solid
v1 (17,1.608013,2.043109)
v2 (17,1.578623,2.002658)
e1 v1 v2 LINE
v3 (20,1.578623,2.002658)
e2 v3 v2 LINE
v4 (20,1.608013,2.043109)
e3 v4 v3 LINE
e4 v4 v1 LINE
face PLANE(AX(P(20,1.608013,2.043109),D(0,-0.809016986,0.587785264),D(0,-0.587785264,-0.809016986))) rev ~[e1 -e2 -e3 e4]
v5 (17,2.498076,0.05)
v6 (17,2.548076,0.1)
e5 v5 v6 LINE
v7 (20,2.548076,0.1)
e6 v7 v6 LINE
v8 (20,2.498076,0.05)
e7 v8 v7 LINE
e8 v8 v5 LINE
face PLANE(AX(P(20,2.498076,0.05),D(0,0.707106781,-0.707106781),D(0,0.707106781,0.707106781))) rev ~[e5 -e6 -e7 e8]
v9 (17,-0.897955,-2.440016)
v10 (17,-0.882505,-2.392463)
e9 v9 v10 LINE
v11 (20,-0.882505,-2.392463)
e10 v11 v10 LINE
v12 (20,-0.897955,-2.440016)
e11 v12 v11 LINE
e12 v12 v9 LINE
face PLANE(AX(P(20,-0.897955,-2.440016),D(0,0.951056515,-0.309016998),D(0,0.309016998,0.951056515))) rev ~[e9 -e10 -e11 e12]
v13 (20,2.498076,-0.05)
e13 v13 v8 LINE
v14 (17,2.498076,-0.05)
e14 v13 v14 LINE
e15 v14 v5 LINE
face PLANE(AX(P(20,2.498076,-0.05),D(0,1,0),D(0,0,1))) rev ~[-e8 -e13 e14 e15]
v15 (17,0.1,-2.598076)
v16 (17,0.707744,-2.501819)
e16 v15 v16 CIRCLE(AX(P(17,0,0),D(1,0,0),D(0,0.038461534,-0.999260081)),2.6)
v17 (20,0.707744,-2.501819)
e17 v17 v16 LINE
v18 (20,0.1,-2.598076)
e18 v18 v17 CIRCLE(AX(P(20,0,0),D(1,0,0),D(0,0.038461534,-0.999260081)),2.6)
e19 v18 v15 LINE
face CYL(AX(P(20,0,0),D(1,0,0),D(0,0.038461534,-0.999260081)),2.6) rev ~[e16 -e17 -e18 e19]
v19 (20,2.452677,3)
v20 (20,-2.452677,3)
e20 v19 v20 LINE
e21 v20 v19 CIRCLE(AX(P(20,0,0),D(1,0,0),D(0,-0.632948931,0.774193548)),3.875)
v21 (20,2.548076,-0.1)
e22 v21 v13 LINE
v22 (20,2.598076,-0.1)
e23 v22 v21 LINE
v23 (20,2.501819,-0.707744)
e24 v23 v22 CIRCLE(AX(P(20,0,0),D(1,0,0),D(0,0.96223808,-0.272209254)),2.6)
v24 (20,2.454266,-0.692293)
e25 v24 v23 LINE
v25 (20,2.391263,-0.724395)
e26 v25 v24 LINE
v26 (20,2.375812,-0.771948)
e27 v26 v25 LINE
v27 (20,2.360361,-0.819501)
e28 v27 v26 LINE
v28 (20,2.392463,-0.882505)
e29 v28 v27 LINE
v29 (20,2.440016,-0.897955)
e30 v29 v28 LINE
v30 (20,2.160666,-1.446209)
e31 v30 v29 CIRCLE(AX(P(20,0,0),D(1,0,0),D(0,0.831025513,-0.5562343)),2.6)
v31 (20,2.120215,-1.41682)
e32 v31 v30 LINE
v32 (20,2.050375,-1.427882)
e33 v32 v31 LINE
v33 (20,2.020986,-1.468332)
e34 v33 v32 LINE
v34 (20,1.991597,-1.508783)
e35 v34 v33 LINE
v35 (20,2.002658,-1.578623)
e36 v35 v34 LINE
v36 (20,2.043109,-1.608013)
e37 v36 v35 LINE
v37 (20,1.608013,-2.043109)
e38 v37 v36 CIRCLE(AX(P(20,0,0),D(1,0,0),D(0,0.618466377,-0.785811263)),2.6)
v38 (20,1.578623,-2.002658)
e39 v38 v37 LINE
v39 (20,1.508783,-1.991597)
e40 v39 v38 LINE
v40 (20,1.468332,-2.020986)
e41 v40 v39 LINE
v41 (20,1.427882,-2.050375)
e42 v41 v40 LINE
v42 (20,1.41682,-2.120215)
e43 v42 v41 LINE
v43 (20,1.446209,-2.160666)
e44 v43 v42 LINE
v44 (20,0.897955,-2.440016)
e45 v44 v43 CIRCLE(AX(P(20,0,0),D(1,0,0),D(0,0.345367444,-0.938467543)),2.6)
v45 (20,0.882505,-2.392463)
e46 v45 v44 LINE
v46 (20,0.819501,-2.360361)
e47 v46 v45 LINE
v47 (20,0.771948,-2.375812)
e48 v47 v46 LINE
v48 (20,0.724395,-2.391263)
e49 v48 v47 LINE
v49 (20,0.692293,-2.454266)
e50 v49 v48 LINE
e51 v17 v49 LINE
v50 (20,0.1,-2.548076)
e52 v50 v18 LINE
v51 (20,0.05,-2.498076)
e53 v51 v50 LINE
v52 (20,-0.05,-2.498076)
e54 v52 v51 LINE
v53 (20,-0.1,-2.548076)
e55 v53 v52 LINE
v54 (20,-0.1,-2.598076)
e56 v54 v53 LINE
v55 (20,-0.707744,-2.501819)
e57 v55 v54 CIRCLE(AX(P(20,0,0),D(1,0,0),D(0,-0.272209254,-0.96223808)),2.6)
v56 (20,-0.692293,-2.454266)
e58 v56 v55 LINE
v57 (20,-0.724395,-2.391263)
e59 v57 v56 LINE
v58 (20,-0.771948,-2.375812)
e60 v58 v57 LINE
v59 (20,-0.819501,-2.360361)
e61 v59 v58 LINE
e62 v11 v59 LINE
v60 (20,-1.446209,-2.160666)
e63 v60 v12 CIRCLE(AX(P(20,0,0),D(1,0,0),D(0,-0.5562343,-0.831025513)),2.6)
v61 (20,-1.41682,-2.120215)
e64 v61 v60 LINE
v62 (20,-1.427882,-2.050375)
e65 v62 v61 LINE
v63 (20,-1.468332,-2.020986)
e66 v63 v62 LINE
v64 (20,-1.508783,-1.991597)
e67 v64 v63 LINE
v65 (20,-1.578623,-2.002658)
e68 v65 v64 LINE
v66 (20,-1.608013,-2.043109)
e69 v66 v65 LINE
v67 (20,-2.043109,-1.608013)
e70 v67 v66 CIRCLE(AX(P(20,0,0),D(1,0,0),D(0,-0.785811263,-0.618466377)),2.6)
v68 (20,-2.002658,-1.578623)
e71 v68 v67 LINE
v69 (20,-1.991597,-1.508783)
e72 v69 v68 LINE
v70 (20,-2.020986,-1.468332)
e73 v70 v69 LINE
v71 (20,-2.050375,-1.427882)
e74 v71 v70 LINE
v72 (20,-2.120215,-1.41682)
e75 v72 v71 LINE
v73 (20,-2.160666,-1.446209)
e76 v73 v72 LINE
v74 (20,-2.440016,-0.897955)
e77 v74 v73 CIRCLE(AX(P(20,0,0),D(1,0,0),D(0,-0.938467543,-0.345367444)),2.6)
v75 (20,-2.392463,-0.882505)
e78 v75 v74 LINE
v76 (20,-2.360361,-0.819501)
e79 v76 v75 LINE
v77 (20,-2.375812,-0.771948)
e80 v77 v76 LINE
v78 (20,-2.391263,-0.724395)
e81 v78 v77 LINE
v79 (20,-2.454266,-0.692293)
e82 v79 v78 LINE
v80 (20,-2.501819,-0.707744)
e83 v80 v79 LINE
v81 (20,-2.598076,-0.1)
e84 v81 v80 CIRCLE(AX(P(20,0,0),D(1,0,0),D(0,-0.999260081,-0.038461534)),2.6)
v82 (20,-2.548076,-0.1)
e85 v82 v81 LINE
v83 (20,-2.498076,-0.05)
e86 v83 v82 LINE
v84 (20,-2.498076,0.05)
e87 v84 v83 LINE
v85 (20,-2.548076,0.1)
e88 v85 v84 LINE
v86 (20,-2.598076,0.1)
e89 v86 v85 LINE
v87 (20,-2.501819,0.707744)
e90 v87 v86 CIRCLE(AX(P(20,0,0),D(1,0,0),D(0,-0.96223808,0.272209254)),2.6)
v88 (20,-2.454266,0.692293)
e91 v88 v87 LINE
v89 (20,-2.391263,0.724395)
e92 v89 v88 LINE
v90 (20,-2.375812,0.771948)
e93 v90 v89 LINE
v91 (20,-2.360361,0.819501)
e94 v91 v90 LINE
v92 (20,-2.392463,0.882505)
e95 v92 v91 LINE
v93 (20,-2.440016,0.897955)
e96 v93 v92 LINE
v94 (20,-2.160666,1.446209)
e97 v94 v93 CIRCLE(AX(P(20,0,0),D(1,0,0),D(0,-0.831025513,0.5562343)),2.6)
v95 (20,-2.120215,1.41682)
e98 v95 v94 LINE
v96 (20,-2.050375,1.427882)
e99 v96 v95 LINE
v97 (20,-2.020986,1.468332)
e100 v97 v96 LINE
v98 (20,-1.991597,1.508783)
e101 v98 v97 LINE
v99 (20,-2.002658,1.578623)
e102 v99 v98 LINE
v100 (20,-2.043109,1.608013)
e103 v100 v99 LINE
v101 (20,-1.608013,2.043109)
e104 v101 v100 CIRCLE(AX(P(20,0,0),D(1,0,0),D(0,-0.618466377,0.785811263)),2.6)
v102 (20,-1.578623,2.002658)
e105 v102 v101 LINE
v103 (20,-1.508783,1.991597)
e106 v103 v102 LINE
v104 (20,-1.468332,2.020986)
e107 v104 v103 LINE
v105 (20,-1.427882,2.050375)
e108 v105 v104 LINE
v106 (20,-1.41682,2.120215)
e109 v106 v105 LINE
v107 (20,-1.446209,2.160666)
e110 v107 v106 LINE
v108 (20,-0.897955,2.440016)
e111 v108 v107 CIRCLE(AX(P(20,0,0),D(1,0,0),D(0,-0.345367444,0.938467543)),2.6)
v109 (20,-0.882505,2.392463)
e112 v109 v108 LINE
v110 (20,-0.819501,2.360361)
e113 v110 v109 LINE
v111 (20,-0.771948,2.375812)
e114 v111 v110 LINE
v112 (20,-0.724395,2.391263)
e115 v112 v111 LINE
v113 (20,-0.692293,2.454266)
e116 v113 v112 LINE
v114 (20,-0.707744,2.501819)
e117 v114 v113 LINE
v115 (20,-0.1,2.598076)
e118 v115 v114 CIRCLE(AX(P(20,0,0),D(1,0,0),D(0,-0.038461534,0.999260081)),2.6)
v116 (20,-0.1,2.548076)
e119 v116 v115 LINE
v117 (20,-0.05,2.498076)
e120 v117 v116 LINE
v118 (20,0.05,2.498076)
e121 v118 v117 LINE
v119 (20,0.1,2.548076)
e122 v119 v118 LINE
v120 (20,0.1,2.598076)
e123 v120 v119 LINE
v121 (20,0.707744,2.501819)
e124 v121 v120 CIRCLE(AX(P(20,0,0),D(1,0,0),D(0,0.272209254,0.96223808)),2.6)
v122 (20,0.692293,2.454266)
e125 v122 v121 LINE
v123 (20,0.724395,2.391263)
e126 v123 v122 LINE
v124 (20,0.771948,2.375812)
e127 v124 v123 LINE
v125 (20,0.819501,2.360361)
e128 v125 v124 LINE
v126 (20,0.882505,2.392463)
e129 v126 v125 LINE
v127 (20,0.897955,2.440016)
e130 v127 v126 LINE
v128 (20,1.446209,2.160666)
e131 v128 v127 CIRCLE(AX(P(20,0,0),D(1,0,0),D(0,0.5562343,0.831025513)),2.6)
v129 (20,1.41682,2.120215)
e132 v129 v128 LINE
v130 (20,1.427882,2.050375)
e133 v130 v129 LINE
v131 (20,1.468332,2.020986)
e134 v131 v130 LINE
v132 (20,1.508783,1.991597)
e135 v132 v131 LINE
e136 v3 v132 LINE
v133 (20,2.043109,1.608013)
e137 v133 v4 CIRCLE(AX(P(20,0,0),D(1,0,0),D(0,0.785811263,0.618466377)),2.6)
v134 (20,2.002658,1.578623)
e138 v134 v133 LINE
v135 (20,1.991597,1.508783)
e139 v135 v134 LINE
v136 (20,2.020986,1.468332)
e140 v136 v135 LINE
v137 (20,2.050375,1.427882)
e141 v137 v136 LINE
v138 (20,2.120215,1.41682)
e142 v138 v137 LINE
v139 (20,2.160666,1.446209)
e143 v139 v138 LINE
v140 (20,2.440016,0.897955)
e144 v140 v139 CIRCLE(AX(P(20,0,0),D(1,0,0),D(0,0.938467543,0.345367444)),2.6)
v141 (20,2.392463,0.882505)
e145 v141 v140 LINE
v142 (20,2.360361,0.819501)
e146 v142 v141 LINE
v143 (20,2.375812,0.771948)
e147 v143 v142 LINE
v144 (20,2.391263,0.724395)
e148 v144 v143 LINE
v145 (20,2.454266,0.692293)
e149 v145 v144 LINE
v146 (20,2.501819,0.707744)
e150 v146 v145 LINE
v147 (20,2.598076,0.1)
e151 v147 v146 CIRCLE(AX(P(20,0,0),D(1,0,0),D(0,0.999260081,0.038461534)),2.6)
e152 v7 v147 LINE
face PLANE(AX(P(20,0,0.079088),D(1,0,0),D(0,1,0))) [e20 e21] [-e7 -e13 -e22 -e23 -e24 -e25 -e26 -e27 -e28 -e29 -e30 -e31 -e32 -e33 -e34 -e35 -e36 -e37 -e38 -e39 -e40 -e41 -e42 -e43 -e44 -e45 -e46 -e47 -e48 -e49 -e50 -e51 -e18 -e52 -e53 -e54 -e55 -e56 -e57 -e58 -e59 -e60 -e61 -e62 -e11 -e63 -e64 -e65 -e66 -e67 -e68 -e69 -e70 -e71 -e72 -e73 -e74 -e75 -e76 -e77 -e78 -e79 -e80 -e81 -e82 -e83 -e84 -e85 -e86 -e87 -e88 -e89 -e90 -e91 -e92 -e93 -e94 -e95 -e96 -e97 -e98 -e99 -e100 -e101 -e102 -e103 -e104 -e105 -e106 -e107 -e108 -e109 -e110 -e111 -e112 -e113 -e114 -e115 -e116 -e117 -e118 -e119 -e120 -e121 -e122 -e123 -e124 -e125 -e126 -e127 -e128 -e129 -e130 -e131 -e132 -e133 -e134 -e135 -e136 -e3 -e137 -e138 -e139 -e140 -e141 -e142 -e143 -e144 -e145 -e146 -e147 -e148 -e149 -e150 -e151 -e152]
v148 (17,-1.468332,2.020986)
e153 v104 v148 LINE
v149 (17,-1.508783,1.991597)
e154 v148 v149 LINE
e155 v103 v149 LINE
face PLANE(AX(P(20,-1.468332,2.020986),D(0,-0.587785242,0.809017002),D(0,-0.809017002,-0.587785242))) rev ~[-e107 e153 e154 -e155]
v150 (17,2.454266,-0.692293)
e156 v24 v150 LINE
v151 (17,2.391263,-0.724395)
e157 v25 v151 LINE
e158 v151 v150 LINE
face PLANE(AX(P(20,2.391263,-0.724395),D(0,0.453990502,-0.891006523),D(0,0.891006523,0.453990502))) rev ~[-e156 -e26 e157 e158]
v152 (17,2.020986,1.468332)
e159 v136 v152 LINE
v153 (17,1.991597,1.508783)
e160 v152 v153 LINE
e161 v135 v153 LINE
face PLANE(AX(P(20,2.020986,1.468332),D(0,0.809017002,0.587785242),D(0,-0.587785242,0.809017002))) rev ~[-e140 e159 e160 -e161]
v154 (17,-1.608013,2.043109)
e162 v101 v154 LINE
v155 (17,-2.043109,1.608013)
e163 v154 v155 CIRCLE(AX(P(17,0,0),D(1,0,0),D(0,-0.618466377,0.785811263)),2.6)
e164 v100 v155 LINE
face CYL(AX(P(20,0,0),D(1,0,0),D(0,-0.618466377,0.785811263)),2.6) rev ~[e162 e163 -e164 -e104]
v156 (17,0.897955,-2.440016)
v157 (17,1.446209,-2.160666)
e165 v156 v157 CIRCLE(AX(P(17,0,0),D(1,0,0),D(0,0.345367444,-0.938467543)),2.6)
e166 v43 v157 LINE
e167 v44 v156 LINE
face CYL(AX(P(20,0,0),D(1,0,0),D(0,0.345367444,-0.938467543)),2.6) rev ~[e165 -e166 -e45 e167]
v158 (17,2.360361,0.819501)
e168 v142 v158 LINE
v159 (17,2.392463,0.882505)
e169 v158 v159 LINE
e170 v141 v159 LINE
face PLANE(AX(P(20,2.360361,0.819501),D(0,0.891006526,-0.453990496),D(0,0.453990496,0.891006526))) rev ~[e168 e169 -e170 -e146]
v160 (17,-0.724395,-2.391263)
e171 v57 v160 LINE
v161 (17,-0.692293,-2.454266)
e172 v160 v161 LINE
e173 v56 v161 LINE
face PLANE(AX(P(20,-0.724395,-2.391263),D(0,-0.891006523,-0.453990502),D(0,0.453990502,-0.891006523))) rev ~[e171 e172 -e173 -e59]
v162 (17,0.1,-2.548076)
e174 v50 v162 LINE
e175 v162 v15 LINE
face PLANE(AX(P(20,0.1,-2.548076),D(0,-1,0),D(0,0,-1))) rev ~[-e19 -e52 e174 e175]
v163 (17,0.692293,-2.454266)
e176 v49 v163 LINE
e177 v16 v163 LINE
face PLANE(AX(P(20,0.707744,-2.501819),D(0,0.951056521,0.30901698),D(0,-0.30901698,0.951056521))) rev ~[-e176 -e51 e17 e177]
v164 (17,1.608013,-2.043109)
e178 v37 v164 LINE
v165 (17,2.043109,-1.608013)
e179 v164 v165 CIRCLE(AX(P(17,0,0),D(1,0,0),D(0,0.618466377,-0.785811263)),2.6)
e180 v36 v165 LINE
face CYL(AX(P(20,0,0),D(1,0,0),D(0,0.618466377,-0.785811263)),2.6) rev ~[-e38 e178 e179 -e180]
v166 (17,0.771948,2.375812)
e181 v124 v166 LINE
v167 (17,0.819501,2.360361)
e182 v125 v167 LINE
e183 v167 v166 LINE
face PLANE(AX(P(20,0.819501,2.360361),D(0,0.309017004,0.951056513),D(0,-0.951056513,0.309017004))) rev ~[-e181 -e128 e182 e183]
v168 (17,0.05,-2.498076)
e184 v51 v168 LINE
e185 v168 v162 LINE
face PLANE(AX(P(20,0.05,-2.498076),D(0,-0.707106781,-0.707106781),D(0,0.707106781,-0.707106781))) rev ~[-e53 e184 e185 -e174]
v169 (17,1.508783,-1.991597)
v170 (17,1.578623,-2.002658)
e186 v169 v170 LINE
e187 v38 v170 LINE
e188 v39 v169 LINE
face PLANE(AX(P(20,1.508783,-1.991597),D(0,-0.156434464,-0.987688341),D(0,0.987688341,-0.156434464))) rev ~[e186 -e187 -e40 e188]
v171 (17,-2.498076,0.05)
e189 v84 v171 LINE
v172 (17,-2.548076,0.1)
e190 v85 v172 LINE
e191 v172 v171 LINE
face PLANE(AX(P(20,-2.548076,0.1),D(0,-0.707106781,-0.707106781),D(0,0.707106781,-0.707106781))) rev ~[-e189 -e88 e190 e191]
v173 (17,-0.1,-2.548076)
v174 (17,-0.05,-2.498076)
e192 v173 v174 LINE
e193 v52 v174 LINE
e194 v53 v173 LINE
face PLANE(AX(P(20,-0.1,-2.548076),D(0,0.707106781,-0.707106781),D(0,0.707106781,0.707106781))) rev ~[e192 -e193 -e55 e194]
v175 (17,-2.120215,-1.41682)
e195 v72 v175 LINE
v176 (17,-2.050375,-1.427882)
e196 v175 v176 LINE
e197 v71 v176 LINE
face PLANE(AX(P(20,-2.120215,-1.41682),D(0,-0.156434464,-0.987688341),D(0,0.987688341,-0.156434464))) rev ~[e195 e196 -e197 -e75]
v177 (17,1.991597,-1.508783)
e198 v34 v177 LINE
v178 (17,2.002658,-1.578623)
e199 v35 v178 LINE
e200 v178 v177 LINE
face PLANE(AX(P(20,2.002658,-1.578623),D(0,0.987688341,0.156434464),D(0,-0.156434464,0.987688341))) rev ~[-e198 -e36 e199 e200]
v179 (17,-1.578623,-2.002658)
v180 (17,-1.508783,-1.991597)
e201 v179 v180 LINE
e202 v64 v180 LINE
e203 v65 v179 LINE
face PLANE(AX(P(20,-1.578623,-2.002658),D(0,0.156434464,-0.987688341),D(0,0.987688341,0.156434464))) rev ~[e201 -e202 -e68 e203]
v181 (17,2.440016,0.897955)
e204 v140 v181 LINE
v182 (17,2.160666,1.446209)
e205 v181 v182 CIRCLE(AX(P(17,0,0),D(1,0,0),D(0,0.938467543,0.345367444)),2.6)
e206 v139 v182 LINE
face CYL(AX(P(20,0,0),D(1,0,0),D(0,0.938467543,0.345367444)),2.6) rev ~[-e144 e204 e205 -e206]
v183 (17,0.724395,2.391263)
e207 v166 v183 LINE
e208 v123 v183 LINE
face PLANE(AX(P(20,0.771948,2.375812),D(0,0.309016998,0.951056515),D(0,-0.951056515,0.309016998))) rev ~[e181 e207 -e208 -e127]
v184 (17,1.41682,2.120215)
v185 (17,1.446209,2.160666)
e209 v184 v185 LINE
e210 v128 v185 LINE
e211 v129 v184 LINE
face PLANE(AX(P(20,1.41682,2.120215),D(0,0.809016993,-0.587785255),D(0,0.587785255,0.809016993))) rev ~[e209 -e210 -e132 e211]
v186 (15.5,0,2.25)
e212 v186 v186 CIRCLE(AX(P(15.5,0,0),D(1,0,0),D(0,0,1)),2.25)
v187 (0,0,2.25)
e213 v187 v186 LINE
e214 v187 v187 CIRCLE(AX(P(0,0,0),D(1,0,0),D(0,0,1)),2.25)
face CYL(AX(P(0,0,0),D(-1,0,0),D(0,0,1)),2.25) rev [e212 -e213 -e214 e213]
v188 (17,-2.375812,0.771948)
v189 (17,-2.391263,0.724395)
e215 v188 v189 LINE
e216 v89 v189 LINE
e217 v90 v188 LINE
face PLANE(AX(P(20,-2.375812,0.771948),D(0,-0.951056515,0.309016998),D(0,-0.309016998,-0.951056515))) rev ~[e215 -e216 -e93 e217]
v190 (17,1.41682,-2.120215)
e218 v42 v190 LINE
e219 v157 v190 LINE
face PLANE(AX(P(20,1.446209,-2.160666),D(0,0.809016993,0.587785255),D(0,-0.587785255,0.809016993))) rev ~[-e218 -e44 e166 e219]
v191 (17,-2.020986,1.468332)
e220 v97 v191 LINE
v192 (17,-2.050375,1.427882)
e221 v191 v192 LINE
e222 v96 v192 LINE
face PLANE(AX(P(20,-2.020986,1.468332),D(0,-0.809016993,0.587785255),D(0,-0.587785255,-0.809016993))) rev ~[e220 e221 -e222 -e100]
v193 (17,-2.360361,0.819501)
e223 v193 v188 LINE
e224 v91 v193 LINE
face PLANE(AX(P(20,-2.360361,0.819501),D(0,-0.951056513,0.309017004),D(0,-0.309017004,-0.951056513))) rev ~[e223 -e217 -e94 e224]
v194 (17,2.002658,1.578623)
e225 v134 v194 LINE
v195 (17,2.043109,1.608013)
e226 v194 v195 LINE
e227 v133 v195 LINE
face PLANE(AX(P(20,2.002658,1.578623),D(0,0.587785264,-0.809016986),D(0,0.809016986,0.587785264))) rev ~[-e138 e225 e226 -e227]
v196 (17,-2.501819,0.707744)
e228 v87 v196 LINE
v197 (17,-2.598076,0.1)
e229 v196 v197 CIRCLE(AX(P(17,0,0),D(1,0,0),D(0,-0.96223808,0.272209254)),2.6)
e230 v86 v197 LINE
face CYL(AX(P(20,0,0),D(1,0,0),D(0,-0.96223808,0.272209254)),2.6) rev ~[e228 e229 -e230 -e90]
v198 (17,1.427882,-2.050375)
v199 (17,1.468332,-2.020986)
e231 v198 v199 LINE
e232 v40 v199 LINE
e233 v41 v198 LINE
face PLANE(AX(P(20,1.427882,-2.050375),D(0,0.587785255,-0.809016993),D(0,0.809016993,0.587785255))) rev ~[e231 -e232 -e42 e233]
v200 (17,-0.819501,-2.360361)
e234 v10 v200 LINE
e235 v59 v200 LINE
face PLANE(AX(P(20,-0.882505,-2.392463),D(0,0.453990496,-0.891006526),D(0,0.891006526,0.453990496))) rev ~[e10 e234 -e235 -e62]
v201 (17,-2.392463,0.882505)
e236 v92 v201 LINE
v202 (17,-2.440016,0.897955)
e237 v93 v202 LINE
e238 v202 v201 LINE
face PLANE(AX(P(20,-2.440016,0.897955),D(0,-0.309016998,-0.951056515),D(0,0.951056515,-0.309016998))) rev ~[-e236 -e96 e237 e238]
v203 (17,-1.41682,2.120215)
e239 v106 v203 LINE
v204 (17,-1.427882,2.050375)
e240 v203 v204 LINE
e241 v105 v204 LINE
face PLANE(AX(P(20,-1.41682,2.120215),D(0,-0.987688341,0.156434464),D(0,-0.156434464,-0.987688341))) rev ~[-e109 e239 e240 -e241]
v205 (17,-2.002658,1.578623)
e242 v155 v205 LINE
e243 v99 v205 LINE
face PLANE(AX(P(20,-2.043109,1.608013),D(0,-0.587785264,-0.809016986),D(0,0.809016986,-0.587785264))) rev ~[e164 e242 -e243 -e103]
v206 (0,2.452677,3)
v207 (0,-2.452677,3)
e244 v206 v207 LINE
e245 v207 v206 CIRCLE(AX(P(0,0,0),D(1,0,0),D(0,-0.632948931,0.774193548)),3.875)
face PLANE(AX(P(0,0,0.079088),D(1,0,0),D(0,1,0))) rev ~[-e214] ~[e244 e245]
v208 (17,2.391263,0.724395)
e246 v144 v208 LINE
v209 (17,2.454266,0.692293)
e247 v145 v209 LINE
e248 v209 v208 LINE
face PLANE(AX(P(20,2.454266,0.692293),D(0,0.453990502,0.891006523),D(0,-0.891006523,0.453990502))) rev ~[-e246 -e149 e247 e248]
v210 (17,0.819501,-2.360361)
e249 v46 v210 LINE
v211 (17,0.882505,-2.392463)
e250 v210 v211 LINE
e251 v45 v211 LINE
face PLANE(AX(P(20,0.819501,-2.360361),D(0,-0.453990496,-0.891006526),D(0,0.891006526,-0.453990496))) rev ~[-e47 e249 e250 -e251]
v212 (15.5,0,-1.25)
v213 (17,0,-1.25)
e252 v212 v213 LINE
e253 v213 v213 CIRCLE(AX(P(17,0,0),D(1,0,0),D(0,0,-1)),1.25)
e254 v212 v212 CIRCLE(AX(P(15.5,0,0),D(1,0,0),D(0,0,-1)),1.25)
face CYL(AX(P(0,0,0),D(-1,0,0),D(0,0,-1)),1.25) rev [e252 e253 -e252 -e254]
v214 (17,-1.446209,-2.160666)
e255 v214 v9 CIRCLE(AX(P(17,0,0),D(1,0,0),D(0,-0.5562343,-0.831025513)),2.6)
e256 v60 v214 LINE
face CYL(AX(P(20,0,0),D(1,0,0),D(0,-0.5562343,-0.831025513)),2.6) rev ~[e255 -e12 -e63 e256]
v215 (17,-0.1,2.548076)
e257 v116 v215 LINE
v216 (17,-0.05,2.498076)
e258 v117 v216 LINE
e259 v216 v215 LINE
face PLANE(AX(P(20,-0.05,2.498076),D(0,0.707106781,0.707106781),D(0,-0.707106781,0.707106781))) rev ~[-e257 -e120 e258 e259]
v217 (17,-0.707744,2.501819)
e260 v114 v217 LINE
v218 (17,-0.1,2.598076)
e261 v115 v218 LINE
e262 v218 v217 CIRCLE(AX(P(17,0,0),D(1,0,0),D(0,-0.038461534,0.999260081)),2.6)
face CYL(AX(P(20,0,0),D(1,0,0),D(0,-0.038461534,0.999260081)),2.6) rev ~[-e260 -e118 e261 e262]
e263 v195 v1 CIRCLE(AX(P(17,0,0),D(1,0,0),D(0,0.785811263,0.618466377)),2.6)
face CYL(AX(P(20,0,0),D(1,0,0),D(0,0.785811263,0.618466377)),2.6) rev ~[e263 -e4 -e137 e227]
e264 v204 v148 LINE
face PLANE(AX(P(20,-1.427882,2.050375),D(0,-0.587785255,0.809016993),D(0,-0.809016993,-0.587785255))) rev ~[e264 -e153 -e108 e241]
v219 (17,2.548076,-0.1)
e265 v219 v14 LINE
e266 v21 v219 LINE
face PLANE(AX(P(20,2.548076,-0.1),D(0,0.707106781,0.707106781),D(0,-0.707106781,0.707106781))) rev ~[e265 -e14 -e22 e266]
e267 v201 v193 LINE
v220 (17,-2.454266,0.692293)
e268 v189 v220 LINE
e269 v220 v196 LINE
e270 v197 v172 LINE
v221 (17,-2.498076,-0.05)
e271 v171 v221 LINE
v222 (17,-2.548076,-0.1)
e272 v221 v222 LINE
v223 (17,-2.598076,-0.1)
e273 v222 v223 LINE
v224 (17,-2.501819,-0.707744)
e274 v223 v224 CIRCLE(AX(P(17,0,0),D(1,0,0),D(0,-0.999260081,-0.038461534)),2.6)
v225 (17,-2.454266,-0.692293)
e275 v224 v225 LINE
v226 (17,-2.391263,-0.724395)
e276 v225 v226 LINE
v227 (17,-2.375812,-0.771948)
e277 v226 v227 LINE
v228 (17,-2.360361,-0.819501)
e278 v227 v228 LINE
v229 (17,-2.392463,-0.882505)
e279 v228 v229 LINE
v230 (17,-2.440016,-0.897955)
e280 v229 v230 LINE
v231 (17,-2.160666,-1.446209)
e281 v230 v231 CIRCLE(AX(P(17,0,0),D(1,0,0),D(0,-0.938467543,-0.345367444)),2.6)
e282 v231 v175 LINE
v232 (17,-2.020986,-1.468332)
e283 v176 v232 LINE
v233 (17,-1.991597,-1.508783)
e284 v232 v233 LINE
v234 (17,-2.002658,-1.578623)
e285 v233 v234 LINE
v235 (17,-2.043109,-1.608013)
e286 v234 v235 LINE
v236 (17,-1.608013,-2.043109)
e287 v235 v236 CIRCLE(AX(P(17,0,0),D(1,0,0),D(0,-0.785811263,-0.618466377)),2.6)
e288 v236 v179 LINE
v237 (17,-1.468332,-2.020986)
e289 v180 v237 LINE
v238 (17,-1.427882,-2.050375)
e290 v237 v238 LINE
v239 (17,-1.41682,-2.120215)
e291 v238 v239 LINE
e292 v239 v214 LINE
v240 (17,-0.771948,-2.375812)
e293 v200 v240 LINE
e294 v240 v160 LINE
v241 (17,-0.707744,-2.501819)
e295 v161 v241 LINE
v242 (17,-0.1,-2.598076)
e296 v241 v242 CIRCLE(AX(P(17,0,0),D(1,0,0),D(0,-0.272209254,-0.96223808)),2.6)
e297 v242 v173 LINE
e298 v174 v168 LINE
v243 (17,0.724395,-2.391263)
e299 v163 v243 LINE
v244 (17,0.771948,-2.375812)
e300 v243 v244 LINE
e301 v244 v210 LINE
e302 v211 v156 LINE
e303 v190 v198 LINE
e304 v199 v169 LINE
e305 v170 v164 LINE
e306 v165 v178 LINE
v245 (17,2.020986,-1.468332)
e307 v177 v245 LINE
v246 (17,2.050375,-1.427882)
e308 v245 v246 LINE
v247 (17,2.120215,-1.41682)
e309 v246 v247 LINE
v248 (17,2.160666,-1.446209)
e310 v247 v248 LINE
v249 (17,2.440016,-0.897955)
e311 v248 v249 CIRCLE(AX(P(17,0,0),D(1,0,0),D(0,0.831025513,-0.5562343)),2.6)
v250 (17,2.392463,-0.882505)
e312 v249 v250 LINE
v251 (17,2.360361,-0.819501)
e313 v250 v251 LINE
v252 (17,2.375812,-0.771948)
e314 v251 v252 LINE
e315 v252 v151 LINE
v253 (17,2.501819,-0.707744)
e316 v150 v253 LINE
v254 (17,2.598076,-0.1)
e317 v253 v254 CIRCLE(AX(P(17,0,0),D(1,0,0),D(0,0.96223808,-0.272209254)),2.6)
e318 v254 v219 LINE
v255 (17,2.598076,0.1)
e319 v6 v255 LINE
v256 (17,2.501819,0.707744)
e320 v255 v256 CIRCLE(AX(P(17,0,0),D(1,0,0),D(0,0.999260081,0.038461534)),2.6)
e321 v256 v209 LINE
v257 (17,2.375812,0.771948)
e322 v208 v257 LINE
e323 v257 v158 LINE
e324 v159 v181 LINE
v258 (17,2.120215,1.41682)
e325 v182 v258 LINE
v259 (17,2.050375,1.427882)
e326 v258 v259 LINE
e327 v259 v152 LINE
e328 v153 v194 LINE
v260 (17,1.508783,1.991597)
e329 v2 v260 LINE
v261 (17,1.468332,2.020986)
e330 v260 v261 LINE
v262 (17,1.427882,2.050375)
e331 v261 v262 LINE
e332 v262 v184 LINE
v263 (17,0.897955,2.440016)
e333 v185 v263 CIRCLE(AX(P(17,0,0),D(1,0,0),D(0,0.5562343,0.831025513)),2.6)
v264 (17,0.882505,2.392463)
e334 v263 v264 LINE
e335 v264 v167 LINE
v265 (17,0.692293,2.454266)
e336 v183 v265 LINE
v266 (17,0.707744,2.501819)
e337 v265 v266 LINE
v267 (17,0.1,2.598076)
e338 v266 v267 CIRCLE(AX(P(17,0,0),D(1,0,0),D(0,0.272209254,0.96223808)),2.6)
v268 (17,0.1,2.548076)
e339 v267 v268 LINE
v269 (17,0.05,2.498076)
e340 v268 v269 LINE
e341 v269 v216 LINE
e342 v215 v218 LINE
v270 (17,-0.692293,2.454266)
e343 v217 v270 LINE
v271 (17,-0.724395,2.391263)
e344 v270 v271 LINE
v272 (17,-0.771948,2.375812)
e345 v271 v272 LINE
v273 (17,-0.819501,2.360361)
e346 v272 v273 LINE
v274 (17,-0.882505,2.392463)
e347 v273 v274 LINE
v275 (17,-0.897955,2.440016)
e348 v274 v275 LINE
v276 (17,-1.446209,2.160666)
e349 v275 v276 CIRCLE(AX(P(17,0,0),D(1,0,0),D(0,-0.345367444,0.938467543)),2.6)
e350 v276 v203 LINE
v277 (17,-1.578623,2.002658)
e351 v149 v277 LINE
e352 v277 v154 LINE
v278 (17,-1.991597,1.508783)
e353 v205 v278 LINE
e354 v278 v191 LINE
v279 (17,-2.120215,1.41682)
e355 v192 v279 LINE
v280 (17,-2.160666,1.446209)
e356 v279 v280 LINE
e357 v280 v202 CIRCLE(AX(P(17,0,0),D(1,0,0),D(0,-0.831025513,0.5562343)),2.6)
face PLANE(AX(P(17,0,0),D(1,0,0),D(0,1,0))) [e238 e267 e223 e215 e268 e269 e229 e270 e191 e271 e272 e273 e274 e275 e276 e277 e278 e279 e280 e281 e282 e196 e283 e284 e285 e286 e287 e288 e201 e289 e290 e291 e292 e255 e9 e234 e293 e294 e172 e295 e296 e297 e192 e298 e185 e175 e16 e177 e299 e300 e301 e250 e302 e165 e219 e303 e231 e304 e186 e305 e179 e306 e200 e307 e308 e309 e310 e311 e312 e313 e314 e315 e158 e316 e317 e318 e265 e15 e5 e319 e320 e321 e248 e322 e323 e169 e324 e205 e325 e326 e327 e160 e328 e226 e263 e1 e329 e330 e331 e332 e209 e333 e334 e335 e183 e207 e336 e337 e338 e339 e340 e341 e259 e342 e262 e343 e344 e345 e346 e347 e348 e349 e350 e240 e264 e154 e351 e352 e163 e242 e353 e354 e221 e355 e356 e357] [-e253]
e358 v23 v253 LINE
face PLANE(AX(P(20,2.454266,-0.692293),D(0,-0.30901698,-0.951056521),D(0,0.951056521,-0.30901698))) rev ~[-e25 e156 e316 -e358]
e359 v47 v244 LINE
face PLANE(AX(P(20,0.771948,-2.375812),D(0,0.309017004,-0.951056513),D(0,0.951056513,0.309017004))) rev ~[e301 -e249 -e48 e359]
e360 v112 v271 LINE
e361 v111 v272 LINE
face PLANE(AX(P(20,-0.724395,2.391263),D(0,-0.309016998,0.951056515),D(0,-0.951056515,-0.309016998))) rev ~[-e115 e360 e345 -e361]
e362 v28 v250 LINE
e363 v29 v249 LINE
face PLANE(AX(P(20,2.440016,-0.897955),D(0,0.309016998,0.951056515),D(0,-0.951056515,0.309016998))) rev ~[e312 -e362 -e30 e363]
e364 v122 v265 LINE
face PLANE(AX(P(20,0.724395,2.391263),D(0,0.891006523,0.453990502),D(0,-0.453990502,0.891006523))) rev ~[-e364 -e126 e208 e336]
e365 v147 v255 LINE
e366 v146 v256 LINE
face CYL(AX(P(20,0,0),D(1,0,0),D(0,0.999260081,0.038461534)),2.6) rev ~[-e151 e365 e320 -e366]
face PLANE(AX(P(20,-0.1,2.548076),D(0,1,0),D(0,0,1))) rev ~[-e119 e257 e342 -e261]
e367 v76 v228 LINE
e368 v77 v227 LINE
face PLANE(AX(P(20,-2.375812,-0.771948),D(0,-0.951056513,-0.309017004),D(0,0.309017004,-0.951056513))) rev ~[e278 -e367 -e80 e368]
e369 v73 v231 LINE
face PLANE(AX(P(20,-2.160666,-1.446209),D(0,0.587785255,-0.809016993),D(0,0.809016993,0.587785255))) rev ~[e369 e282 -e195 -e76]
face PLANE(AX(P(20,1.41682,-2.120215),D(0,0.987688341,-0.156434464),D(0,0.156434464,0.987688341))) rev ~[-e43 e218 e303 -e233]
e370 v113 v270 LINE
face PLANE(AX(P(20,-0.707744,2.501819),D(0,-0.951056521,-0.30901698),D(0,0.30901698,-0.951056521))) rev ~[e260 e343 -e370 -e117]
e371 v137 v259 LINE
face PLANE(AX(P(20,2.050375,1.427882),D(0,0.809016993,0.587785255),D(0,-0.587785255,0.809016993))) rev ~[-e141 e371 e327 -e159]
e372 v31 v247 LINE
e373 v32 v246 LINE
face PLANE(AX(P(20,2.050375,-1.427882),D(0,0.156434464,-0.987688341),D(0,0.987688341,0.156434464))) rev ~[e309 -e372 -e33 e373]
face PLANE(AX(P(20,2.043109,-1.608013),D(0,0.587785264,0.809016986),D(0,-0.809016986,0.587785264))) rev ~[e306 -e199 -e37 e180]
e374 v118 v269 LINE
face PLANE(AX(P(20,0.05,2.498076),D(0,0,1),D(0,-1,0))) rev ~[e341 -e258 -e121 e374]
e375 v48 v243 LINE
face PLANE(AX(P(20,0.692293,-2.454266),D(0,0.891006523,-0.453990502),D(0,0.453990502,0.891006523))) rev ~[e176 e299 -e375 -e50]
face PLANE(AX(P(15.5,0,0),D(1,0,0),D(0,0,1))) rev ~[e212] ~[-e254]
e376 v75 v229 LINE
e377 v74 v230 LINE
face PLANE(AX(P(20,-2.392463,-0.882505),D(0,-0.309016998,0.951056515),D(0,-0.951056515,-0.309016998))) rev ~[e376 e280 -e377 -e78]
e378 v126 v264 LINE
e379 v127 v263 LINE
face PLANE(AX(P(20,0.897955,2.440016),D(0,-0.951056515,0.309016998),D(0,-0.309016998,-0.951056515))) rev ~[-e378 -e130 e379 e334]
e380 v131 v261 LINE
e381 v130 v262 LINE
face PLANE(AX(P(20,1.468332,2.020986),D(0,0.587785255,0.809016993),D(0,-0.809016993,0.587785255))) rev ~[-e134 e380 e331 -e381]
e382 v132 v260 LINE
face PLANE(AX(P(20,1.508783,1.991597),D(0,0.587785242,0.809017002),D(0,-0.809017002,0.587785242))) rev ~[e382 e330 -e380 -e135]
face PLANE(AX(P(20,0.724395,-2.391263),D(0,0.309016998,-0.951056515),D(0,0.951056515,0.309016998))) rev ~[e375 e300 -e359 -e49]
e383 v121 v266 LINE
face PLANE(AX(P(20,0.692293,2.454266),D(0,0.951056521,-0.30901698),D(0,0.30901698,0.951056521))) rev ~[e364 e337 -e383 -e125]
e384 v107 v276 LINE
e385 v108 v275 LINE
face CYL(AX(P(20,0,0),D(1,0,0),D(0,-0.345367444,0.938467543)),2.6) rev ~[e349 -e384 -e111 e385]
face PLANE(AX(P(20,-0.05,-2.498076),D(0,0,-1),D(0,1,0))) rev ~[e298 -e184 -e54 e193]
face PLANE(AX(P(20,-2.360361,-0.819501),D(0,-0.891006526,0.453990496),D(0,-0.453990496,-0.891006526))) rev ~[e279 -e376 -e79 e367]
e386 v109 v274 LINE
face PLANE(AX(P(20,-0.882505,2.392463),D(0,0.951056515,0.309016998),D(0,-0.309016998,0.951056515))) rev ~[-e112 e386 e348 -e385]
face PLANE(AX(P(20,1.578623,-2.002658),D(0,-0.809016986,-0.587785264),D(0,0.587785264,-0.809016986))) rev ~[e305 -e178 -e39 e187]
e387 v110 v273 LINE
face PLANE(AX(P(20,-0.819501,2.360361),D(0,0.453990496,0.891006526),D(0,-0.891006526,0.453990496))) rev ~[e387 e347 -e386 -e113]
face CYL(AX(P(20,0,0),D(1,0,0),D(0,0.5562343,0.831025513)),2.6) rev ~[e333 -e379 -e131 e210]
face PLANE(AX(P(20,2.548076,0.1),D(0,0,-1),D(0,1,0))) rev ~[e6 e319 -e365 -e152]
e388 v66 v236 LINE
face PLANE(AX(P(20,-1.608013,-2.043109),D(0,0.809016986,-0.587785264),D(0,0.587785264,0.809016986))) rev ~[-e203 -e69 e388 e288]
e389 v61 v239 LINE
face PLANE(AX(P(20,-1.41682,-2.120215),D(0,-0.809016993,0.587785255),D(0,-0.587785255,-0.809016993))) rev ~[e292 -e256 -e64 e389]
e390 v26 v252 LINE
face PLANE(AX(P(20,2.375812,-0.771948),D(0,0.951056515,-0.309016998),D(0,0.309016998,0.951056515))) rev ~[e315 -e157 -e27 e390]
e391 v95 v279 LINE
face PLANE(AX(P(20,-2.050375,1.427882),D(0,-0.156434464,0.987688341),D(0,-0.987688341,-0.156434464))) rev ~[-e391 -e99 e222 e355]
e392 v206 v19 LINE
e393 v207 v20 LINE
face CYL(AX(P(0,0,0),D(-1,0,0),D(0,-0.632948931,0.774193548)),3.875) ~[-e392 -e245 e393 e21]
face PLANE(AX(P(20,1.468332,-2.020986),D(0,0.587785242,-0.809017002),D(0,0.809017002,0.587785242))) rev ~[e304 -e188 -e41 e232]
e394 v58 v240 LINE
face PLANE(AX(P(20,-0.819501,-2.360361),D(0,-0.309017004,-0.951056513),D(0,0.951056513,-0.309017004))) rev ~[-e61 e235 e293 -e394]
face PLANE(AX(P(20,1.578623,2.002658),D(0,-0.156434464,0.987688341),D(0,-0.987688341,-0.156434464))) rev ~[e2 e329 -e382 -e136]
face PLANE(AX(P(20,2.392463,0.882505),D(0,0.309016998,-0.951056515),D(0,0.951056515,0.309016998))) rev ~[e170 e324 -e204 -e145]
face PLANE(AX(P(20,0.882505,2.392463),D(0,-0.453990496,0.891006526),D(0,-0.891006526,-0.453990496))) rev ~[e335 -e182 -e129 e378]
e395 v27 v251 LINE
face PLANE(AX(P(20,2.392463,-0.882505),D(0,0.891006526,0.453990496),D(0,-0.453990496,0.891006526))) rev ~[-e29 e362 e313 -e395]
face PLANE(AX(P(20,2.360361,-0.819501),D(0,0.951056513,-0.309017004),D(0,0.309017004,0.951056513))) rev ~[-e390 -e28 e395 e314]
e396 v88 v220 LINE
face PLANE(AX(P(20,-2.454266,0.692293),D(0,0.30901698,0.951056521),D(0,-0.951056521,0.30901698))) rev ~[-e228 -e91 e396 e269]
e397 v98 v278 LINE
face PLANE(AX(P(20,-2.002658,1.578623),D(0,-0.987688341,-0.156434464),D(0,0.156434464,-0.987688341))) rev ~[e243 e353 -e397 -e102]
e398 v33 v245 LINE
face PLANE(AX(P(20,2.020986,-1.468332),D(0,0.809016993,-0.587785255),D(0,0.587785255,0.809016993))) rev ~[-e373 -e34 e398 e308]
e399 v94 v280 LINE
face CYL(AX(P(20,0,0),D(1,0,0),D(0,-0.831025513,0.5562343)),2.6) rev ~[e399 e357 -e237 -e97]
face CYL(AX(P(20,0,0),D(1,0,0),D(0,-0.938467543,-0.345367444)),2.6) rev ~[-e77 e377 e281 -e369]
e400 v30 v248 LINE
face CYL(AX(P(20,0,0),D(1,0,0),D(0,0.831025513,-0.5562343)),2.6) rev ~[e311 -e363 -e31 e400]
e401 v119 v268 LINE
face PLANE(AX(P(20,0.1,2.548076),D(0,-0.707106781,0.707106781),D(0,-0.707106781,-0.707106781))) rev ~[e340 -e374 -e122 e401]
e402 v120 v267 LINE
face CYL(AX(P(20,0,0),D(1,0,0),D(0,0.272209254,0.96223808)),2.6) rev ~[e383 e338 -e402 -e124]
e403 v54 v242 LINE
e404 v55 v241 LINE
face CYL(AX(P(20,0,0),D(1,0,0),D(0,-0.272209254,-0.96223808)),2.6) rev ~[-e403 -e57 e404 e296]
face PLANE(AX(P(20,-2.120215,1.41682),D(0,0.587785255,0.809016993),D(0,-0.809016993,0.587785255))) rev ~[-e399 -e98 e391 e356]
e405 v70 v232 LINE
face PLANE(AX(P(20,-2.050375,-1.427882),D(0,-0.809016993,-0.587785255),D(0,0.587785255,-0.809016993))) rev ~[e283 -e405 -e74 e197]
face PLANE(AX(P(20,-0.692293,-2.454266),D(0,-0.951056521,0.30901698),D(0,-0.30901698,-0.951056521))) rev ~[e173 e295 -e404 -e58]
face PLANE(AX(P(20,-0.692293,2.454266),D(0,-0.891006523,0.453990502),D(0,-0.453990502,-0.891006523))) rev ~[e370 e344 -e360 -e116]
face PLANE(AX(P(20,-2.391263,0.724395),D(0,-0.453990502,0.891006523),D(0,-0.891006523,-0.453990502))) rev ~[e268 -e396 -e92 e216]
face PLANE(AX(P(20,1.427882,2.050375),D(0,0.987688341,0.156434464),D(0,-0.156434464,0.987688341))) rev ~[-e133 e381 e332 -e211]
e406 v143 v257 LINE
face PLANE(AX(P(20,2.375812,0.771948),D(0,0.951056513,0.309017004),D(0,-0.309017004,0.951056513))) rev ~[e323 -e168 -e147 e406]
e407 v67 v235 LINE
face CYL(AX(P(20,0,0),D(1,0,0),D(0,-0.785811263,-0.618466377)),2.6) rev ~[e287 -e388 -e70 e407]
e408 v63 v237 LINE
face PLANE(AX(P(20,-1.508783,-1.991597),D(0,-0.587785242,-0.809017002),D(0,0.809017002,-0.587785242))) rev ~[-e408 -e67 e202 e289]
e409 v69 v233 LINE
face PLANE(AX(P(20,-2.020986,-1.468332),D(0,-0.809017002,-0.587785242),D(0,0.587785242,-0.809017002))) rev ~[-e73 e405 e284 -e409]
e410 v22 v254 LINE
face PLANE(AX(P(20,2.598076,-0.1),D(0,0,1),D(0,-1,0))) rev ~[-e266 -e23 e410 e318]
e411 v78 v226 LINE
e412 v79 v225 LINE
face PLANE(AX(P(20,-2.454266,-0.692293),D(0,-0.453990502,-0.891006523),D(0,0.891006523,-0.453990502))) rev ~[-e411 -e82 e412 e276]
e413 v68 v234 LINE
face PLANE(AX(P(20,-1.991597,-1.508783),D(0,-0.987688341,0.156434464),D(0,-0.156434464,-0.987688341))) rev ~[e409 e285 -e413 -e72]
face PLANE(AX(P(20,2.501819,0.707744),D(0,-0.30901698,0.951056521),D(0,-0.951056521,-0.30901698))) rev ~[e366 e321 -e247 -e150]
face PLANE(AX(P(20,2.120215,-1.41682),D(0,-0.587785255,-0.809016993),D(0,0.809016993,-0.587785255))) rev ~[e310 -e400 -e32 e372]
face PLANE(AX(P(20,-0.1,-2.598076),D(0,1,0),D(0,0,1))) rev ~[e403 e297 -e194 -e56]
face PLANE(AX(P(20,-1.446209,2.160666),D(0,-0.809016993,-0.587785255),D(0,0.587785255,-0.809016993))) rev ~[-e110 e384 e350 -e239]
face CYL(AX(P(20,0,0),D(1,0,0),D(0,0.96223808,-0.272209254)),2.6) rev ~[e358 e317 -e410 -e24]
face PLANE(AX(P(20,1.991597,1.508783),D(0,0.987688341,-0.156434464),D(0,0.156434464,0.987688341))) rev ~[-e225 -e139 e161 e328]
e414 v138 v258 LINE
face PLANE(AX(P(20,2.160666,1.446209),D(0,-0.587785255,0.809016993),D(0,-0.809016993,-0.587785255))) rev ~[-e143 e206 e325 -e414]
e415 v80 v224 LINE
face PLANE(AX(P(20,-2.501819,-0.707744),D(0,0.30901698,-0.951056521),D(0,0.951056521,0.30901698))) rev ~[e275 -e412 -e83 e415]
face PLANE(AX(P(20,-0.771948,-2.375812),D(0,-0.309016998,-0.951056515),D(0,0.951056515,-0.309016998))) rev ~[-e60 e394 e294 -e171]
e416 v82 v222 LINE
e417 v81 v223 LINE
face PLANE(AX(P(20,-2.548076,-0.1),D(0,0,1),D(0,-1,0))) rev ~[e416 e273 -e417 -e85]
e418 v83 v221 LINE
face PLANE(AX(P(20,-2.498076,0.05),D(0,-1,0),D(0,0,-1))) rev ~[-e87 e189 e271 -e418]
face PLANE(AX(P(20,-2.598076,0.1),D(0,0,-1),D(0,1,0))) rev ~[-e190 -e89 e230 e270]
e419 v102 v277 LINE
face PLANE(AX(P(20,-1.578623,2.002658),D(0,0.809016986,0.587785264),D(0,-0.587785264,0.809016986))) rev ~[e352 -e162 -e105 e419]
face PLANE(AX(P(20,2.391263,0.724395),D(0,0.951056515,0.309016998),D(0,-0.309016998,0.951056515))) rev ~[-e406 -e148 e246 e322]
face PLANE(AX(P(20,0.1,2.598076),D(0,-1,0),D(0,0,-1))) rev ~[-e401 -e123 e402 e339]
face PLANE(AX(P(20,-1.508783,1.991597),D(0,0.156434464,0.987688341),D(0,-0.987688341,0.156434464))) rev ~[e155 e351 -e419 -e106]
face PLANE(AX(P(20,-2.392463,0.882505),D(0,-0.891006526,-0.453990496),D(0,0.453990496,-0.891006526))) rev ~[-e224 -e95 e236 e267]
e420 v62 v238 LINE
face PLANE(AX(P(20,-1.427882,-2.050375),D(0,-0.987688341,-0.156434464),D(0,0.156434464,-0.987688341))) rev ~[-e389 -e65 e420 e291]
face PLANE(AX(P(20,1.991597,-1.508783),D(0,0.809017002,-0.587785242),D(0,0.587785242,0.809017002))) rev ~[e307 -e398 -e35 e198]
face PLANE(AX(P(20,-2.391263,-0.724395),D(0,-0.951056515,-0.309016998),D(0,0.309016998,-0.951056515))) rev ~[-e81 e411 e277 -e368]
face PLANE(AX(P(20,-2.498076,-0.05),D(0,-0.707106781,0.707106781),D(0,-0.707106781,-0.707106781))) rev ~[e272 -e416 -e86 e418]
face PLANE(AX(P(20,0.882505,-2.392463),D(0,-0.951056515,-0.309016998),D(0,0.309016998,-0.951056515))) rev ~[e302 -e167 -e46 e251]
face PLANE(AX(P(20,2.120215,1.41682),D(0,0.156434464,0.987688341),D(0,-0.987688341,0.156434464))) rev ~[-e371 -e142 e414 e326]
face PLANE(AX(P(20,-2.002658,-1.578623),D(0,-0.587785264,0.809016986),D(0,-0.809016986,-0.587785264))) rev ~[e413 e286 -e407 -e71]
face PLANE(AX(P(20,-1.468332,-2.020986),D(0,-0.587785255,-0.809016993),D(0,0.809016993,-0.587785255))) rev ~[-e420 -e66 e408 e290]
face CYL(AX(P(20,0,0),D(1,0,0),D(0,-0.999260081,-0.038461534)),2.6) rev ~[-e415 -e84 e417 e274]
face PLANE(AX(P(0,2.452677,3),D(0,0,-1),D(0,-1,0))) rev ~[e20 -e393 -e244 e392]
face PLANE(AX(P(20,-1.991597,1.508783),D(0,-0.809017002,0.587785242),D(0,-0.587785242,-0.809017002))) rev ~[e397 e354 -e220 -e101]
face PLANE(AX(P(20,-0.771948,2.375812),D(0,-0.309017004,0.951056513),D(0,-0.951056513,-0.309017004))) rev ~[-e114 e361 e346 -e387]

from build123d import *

# Parameters (mm, degrees)
CROQUIS1_R              = 2.25
CROQUIS1_R_2            = 1.25
SALIENTE_EXTRUIR1_DEPTH = 20
CORTAR_EXTRUIR2_DEPTH   = 3
CROQUIS1_3_R            = 2.25
CROQUIS1_3_R_2          = 1.25
CORTAR_EXTRUIR1_DEPTH   = 15.5
CROQUIS1_5_R            = 1.25
CORTAR_EXTRUIR4_DEPTH   = 17


with BuildPart() as part:
    # Croquis1 → Saliente-Extruir1 (new body)
    with BuildSketch(Plane.YZ):
        with BuildLine():
            Line((2.452677109, 3), (-2.452677109, 3))
            ThreePointArc((-2.452677109, 3), (0, -3.875), (2.452677109, 3))
        make_face()
        Circle(CROQUIS1_R, mode=Mode.SUBTRACT)
        Circle(CROQUIS1_R)
        Circle(CROQUIS1_R_2, mode=Mode.SUBTRACT)
        Circle(CROQUIS1_R_2)
    extrude(amount=SALIENTE_EXTRUIR1_DEPTH)

    # Croquis2 → Cortar-Extruir2 (cut)
    with BuildSketch(Plane.YZ.offset(20)):
        with BuildLine():
            Line((-2.498076211, 0.05), (-2.498076211, 0))
            Line((-2.498076211, 0), (-2.498076211, -0.05))
            Line((-2.498076211, -0.05), (-2.548076211, -0.1))
            Line((-2.548076211, -0.1), (-2.598076211, -0.1))
            ThreePointArc((-2.598076211, -0.1), (-2.567989686, -0.406729609), (-2.50181901, -0.70774405))
            Line((-2.50181901, -0.70774405), (-2.454266184, -0.692293201))
            Line((-2.454266184, -0.692293201), (-2.391262509, -0.724395177))
            Line((-2.391262509, -0.724395177), (-2.375811659, -0.771948003))
            Line((-2.375811659, -0.771948003), (-2.360360809, -0.819500828))
            Line((-2.360360809, -0.819500828), (-2.392462785, -0.882504504))
            Line((-2.392462785, -0.882504504), (-2.440015611, -0.897955354))
            ThreePointArc((-2.440015611, -0.897955354), (-2.316616963, -1.180375299), (-2.160666333, -1.446209182))
            Line((-2.160666333, -1.446209182), (-2.120215483, -1.416819919))
            Line((-2.120215483, -1.416819919), (-2.050375371, -1.427881506))
            Line((-2.050375371, -1.427881506), (-2.020986108, -1.468332356))
            Line((-2.020986108, -1.468332356), (-1.991596846, -1.508783206))
            Line((-1.991596846, -1.508783206), (-2.002658433, -1.578623318))
            Line((-2.002658433, -1.578623318), (-2.043109282, -1.608012581))
            ThreePointArc((-2.043109282, -1.608012581), (-1.838477631, -1.838477631), (-1.608012581, -2.043109282))
            Line((-1.608012581, -2.043109282), (-1.578623318, -2.002658433))
            Line((-1.578623318, -2.002658433), (-1.508783206, -1.991596846))
            Line((-1.508783206, -1.991596846), (-1.468332356, -2.020986108))
            Line((-1.468332356, -2.020986108), (-1.427881506, -2.050375371))
            Line((-1.427881506, -2.050375371), (-1.416819919, -2.120215483))
            Line((-1.416819919, -2.120215483), (-1.446209182, -2.160666333))
            ThreePointArc((-1.446209182, -2.160666333), (-1.180375299, -2.316616963), (-0.897955354, -2.440015611))
            Line((-0.897955354, -2.440015611), (-0.882504504, -2.392462785))
            Line((-0.882504504, -2.392462785), (-0.819500828, -2.360360809))
            Line((-0.819500828, -2.360360809), (-0.771948003, -2.375811659))
            Line((-0.771948003, -2.375811659), (-0.724395177, -2.391262509))
            Line((-0.724395177, -2.391262509), (-0.692293201, -2.454266184))
            Line((-0.692293201, -2.454266184), (-0.70774405, -2.50181901))
            ThreePointArc((-0.70774405, -2.50181901), (-0.406729609, -2.567989686), (-0.1, -2.598076211))
            Line((-0.1, -2.598076211), (-0.1, -2.548076211))
            Line((-0.1, -2.548076211), (-0.05, -2.498076211))
            Line((-0.05, -2.498076211), (0, -2.498076211))
            Line((0, -2.498076211), (0.05, -2.498076211))
            Line((0.05, -2.498076211), (0.1, -2.548076211))
            Line((0.1, -2.548076211), (0.1, -2.598076211))
            ThreePointArc((0.1, -2.598076211), (0.406729609, -2.567989686), (0.70774405, -2.50181901))
            Line((0.70774405, -2.50181901), (0.692293201, -2.454266184))
            Line((0.692293201, -2.454266184), (0.724395177, -2.391262509))
            Line((0.724395177, -2.391262509), (0.771948003, -2.375811659))
            Line((0.771948003, -2.375811659), (0.819500828, -2.360360809))
            Line((0.819500828, -2.360360809), (0.882504504, -2.392462785))
            Line((0.882504504, -2.392462785), (0.897955354, -2.440015611))
            ThreePointArc((0.897955354, -2.440015611), (1.180375299, -2.316616963), (1.446209182, -2.160666333))
            Line((1.446209182, -2.160666333), (1.416819919, -2.120215483))
            Line((1.416819919, -2.120215483), (1.427881506, -2.050375371))
            Line((1.427881506, -2.050375371), (1.468332356, -2.020986108))
            Line((1.468332356, -2.020986108), (1.508783206, -1.991596846))
            Line((1.508783206, -1.991596846), (1.578623318, -2.002658433))
            Line((1.578623318, -2.002658433), (1.608012581, -2.043109282))
            ThreePointArc((1.608012581, -2.043109282), (1.838477631, -1.838477631), (2.043109282, -1.608012581))
            Line((2.043109282, -1.608012581), (2.002658433, -1.578623318))
            Line((2.002658433, -1.578623318), (1.991596846, -1.508783206))
            Line((1.991596846, -1.508783206), (2.020986108, -1.468332356))
            Line((2.020986108, -1.468332356), (2.050375371, -1.427881506))
            Line((2.050375371, -1.427881506), (2.120215483, -1.416819919))
            Line((2.120215483, -1.416819919), (2.160666333, -1.446209182))
            ThreePointArc((2.160666333, -1.446209182), (2.316616963, -1.180375299), (2.440015611, -0.897955354))
            Line((2.440015611, -0.897955354), (2.392462785, -0.882504504))
            Line((2.392462785, -0.882504504), (2.360360809, -0.819500828))
            Line((2.360360809, -0.819500828), (2.375811659, -0.771948003))
            Line((2.375811659, -0.771948003), (2.391262509, -0.724395177))
            Line((2.391262509, -0.724395177), (2.454266184, -0.692293201))
            Line((2.454266184, -0.692293201), (2.50181901, -0.70774405))
            ThreePointArc((2.50181901, -0.70774405), (2.567989686, -0.406729609), (2.598076211, -0.1))
            Line((2.598076211, -0.1), (2.548076211, -0.1))
            Line((2.548076211, -0.1), (2.498076211, -0.05))
            Line((2.498076211, -0.05), (2.498076211, 0))
            Line((2.498076211, 0), (2.498076211, 0.05))
            Line((2.498076211, 0.05), (2.548076211, 0.1))
            Line((2.548076211, 0.1), (2.598076211, 0.1))
            ThreePointArc((2.598076211, 0.1), (2.567989686, 0.406729609), (2.50181901, 0.70774405))
            Line((2.50181901, 0.70774405), (2.454266184, 0.692293201))
            Line((2.454266184, 0.692293201), (2.391262509, 0.724395177))
            Line((2.391262509, 0.724395177), (2.375811659, 0.771948003))
            Line((2.375811659, 0.771948003), (2.360360809, 0.819500828))
            Line((2.360360809, 0.819500828), (2.392462785, 0.882504504))
            Line((2.392462785, 0.882504504), (2.440015611, 0.897955354))
            ThreePointArc((2.440015611, 0.897955354), (2.316616963, 1.180375299), (2.160666333, 1.446209182))
            Line((2.160666333, 1.446209182), (2.120215483, 1.416819919))
            Line((2.120215483, 1.416819919), (2.050375371, 1.427881506))
            Line((2.050375371, 1.427881506), (2.020986108, 1.468332356))
            Line((2.020986108, 1.468332356), (1.991596846, 1.508783206))
            Line((1.991596846, 1.508783206), (2.002658433, 1.578623318))
            Line((2.002658433, 1.578623318), (2.043109282, 1.608012581))
            ThreePointArc((2.043109282, 1.608012581), (1.838477631, 1.838477631), (1.608012581, 2.043109282))
            Line((1.608012581, 2.043109282), (1.578623318, 2.002658433))
            Line((1.578623318, 2.002658433), (1.508783206, 1.991596846))
            Line((1.508783206, 1.991596846), (1.468332356, 2.020986108))
            Line((1.468332356, 2.020986108), (1.427881506, 2.050375371))
            Line((1.427881506, 2.050375371), (1.416819919, 2.120215483))
            Line((1.416819919, 2.120215483), (1.446209182, 2.160666333))
            ThreePointArc((1.446209182, 2.160666333), (1.180375299, 2.316616963), (0.897955354, 2.440015611))
            Line((0.897955354, 2.440015611), (0.882504504, 2.392462785))
            Line((0.882504504, 2.392462785), (0.819500828, 2.360360809))
            Line((0.819500828, 2.360360809), (0.771948003, 2.375811659))
            Line((0.771948003, 2.375811659), (0.724395177, 2.391262509))
            Line((0.724395177, 2.391262509), (0.692293201, 2.454266184))
            Line((0.692293201, 2.454266184), (0.70774405, 2.50181901))
            ThreePointArc((0.70774405, 2.50181901), (0.406729609, 2.567989686), (0.1, 2.598076211))
            Line((0.1, 2.598076211), (0.1, 2.548076211))
            Line((0.1, 2.548076211), (0.05, 2.498076211))
            Line((0.05, 2.498076211), (0, 2.498076211))
            Line((0, 2.498076211), (-0.05, 2.498076211))
            Line((-0.05, 2.498076211), (-0.1, 2.548076211))
            Line((-0.1, 2.548076211), (-0.1, 2.598076211))
            ThreePointArc((-0.1, 2.598076211), (-0.406729609, 2.567989686), (-0.70774405, 2.50181901))
            Line((-0.70774405, 2.50181901), (-0.692293201, 2.454266184))
            Line((-0.692293201, 2.454266184), (-0.724395177, 2.391262509))
            Line((-0.724395177, 2.391262509), (-0.771948003, 2.375811659))
            Line((-0.771948003, 2.375811659), (-0.819500828, 2.360360809))
            Line((-0.819500828, 2.360360809), (-0.882504504, 2.392462785))
            Line((-0.882504504, 2.392462785), (-0.897955354, 2.440015611))
            ThreePointArc((-0.897955354, 2.440015611), (-1.180375299, 2.316616963), (-1.446209182, 2.160666333))
            Line((-1.446209182, 2.160666333), (-1.416819919, 2.120215483))
            Line((-1.416819919, 2.120215483), (-1.427881506, 2.050375371))
            Line((-1.427881506, 2.050375371), (-1.468332356, 2.020986108))
            Line((-1.468332356, 2.020986108), (-1.508783206, 1.991596846))
            Line((-1.508783206, 1.991596846), (-1.578623318, 2.002658433))
            Line((-1.578623318, 2.002658433), (-1.608012581, 2.043109282))
            ThreePointArc((-1.608012581, 2.043109282), (-1.838477631, 1.838477631), (-2.043109282, 1.608012581))
            Line((-2.043109282, 1.608012581), (-2.002658433, 1.578623318))
            Line((-2.002658433, 1.578623318), (-1.991596846, 1.508783206))
            Line((-1.991596846, 1.508783206), (-2.020986108, 1.468332356))
            Line((-2.020986108, 1.468332356), (-2.050375371, 1.427881506))
            Line((-2.050375371, 1.427881506), (-2.120215483, 1.416819919))
            Line((-2.120215483, 1.416819919), (-2.160666333, 1.446209182))
            ThreePointArc((-2.160666333, 1.446209182), (-2.316616963, 1.180375299), (-2.440015611, 0.897955354))
            Line((-2.440015611, 0.897955354), (-2.392462785, 0.882504504))
            Line((-2.392462785, 0.882504504), (-2.360360809, 0.819500828))
            Line((-2.360360809, 0.819500828), (-2.375811659, 0.771948003))
            Line((-2.375811659, 0.771948003), (-2.391262509, 0.724395177))
            Line((-2.391262509, 0.724395177), (-2.454266184, 0.692293201))
            Line((-2.454266184, 0.692293201), (-2.50181901, 0.70774405))
            ThreePointArc((-2.50181901, 0.70774405), (-2.567989686, 0.406729609), (-2.598076211, 0.1))
            Line((-2.598076211, 0.1), (-2.548076211, 0.1))
            Line((-2.548076211, 0.1), (-2.498076211, 0.05))
        make_face()
    extrude(amount=-CORTAR_EXTRUIR2_DEPTH, mode=Mode.SUBTRACT)

    # Croquis1<3> → Cortar-Extruir1 (cut)
    with BuildSketch(Plane.YZ):
        with Locations(Location((0, 0, 0), (0, 0, 90))):
            Circle(CROQUIS1_3_R)
        with Locations(Location((0, 0, 0), (0, 0, 90))):
            Circle(CROQUIS1_3_R_2, mode=Mode.SUBTRACT)
    extrude(amount=CORTAR_EXTRUIR1_DEPTH, mode=Mode.SUBTRACT)

    # Croquis1<5> → Cortar-Extruir4 (cut)
    with BuildSketch(Plane.YZ):
        with Locations(Location((0, 0, 0), (0, 0, 270))):
            Circle(CROQUIS1_5_R)
    extrude(amount=CORTAR_EXTRUIR4_DEPTH, mode=Mode.SUBTRACT)


solid = part.part
